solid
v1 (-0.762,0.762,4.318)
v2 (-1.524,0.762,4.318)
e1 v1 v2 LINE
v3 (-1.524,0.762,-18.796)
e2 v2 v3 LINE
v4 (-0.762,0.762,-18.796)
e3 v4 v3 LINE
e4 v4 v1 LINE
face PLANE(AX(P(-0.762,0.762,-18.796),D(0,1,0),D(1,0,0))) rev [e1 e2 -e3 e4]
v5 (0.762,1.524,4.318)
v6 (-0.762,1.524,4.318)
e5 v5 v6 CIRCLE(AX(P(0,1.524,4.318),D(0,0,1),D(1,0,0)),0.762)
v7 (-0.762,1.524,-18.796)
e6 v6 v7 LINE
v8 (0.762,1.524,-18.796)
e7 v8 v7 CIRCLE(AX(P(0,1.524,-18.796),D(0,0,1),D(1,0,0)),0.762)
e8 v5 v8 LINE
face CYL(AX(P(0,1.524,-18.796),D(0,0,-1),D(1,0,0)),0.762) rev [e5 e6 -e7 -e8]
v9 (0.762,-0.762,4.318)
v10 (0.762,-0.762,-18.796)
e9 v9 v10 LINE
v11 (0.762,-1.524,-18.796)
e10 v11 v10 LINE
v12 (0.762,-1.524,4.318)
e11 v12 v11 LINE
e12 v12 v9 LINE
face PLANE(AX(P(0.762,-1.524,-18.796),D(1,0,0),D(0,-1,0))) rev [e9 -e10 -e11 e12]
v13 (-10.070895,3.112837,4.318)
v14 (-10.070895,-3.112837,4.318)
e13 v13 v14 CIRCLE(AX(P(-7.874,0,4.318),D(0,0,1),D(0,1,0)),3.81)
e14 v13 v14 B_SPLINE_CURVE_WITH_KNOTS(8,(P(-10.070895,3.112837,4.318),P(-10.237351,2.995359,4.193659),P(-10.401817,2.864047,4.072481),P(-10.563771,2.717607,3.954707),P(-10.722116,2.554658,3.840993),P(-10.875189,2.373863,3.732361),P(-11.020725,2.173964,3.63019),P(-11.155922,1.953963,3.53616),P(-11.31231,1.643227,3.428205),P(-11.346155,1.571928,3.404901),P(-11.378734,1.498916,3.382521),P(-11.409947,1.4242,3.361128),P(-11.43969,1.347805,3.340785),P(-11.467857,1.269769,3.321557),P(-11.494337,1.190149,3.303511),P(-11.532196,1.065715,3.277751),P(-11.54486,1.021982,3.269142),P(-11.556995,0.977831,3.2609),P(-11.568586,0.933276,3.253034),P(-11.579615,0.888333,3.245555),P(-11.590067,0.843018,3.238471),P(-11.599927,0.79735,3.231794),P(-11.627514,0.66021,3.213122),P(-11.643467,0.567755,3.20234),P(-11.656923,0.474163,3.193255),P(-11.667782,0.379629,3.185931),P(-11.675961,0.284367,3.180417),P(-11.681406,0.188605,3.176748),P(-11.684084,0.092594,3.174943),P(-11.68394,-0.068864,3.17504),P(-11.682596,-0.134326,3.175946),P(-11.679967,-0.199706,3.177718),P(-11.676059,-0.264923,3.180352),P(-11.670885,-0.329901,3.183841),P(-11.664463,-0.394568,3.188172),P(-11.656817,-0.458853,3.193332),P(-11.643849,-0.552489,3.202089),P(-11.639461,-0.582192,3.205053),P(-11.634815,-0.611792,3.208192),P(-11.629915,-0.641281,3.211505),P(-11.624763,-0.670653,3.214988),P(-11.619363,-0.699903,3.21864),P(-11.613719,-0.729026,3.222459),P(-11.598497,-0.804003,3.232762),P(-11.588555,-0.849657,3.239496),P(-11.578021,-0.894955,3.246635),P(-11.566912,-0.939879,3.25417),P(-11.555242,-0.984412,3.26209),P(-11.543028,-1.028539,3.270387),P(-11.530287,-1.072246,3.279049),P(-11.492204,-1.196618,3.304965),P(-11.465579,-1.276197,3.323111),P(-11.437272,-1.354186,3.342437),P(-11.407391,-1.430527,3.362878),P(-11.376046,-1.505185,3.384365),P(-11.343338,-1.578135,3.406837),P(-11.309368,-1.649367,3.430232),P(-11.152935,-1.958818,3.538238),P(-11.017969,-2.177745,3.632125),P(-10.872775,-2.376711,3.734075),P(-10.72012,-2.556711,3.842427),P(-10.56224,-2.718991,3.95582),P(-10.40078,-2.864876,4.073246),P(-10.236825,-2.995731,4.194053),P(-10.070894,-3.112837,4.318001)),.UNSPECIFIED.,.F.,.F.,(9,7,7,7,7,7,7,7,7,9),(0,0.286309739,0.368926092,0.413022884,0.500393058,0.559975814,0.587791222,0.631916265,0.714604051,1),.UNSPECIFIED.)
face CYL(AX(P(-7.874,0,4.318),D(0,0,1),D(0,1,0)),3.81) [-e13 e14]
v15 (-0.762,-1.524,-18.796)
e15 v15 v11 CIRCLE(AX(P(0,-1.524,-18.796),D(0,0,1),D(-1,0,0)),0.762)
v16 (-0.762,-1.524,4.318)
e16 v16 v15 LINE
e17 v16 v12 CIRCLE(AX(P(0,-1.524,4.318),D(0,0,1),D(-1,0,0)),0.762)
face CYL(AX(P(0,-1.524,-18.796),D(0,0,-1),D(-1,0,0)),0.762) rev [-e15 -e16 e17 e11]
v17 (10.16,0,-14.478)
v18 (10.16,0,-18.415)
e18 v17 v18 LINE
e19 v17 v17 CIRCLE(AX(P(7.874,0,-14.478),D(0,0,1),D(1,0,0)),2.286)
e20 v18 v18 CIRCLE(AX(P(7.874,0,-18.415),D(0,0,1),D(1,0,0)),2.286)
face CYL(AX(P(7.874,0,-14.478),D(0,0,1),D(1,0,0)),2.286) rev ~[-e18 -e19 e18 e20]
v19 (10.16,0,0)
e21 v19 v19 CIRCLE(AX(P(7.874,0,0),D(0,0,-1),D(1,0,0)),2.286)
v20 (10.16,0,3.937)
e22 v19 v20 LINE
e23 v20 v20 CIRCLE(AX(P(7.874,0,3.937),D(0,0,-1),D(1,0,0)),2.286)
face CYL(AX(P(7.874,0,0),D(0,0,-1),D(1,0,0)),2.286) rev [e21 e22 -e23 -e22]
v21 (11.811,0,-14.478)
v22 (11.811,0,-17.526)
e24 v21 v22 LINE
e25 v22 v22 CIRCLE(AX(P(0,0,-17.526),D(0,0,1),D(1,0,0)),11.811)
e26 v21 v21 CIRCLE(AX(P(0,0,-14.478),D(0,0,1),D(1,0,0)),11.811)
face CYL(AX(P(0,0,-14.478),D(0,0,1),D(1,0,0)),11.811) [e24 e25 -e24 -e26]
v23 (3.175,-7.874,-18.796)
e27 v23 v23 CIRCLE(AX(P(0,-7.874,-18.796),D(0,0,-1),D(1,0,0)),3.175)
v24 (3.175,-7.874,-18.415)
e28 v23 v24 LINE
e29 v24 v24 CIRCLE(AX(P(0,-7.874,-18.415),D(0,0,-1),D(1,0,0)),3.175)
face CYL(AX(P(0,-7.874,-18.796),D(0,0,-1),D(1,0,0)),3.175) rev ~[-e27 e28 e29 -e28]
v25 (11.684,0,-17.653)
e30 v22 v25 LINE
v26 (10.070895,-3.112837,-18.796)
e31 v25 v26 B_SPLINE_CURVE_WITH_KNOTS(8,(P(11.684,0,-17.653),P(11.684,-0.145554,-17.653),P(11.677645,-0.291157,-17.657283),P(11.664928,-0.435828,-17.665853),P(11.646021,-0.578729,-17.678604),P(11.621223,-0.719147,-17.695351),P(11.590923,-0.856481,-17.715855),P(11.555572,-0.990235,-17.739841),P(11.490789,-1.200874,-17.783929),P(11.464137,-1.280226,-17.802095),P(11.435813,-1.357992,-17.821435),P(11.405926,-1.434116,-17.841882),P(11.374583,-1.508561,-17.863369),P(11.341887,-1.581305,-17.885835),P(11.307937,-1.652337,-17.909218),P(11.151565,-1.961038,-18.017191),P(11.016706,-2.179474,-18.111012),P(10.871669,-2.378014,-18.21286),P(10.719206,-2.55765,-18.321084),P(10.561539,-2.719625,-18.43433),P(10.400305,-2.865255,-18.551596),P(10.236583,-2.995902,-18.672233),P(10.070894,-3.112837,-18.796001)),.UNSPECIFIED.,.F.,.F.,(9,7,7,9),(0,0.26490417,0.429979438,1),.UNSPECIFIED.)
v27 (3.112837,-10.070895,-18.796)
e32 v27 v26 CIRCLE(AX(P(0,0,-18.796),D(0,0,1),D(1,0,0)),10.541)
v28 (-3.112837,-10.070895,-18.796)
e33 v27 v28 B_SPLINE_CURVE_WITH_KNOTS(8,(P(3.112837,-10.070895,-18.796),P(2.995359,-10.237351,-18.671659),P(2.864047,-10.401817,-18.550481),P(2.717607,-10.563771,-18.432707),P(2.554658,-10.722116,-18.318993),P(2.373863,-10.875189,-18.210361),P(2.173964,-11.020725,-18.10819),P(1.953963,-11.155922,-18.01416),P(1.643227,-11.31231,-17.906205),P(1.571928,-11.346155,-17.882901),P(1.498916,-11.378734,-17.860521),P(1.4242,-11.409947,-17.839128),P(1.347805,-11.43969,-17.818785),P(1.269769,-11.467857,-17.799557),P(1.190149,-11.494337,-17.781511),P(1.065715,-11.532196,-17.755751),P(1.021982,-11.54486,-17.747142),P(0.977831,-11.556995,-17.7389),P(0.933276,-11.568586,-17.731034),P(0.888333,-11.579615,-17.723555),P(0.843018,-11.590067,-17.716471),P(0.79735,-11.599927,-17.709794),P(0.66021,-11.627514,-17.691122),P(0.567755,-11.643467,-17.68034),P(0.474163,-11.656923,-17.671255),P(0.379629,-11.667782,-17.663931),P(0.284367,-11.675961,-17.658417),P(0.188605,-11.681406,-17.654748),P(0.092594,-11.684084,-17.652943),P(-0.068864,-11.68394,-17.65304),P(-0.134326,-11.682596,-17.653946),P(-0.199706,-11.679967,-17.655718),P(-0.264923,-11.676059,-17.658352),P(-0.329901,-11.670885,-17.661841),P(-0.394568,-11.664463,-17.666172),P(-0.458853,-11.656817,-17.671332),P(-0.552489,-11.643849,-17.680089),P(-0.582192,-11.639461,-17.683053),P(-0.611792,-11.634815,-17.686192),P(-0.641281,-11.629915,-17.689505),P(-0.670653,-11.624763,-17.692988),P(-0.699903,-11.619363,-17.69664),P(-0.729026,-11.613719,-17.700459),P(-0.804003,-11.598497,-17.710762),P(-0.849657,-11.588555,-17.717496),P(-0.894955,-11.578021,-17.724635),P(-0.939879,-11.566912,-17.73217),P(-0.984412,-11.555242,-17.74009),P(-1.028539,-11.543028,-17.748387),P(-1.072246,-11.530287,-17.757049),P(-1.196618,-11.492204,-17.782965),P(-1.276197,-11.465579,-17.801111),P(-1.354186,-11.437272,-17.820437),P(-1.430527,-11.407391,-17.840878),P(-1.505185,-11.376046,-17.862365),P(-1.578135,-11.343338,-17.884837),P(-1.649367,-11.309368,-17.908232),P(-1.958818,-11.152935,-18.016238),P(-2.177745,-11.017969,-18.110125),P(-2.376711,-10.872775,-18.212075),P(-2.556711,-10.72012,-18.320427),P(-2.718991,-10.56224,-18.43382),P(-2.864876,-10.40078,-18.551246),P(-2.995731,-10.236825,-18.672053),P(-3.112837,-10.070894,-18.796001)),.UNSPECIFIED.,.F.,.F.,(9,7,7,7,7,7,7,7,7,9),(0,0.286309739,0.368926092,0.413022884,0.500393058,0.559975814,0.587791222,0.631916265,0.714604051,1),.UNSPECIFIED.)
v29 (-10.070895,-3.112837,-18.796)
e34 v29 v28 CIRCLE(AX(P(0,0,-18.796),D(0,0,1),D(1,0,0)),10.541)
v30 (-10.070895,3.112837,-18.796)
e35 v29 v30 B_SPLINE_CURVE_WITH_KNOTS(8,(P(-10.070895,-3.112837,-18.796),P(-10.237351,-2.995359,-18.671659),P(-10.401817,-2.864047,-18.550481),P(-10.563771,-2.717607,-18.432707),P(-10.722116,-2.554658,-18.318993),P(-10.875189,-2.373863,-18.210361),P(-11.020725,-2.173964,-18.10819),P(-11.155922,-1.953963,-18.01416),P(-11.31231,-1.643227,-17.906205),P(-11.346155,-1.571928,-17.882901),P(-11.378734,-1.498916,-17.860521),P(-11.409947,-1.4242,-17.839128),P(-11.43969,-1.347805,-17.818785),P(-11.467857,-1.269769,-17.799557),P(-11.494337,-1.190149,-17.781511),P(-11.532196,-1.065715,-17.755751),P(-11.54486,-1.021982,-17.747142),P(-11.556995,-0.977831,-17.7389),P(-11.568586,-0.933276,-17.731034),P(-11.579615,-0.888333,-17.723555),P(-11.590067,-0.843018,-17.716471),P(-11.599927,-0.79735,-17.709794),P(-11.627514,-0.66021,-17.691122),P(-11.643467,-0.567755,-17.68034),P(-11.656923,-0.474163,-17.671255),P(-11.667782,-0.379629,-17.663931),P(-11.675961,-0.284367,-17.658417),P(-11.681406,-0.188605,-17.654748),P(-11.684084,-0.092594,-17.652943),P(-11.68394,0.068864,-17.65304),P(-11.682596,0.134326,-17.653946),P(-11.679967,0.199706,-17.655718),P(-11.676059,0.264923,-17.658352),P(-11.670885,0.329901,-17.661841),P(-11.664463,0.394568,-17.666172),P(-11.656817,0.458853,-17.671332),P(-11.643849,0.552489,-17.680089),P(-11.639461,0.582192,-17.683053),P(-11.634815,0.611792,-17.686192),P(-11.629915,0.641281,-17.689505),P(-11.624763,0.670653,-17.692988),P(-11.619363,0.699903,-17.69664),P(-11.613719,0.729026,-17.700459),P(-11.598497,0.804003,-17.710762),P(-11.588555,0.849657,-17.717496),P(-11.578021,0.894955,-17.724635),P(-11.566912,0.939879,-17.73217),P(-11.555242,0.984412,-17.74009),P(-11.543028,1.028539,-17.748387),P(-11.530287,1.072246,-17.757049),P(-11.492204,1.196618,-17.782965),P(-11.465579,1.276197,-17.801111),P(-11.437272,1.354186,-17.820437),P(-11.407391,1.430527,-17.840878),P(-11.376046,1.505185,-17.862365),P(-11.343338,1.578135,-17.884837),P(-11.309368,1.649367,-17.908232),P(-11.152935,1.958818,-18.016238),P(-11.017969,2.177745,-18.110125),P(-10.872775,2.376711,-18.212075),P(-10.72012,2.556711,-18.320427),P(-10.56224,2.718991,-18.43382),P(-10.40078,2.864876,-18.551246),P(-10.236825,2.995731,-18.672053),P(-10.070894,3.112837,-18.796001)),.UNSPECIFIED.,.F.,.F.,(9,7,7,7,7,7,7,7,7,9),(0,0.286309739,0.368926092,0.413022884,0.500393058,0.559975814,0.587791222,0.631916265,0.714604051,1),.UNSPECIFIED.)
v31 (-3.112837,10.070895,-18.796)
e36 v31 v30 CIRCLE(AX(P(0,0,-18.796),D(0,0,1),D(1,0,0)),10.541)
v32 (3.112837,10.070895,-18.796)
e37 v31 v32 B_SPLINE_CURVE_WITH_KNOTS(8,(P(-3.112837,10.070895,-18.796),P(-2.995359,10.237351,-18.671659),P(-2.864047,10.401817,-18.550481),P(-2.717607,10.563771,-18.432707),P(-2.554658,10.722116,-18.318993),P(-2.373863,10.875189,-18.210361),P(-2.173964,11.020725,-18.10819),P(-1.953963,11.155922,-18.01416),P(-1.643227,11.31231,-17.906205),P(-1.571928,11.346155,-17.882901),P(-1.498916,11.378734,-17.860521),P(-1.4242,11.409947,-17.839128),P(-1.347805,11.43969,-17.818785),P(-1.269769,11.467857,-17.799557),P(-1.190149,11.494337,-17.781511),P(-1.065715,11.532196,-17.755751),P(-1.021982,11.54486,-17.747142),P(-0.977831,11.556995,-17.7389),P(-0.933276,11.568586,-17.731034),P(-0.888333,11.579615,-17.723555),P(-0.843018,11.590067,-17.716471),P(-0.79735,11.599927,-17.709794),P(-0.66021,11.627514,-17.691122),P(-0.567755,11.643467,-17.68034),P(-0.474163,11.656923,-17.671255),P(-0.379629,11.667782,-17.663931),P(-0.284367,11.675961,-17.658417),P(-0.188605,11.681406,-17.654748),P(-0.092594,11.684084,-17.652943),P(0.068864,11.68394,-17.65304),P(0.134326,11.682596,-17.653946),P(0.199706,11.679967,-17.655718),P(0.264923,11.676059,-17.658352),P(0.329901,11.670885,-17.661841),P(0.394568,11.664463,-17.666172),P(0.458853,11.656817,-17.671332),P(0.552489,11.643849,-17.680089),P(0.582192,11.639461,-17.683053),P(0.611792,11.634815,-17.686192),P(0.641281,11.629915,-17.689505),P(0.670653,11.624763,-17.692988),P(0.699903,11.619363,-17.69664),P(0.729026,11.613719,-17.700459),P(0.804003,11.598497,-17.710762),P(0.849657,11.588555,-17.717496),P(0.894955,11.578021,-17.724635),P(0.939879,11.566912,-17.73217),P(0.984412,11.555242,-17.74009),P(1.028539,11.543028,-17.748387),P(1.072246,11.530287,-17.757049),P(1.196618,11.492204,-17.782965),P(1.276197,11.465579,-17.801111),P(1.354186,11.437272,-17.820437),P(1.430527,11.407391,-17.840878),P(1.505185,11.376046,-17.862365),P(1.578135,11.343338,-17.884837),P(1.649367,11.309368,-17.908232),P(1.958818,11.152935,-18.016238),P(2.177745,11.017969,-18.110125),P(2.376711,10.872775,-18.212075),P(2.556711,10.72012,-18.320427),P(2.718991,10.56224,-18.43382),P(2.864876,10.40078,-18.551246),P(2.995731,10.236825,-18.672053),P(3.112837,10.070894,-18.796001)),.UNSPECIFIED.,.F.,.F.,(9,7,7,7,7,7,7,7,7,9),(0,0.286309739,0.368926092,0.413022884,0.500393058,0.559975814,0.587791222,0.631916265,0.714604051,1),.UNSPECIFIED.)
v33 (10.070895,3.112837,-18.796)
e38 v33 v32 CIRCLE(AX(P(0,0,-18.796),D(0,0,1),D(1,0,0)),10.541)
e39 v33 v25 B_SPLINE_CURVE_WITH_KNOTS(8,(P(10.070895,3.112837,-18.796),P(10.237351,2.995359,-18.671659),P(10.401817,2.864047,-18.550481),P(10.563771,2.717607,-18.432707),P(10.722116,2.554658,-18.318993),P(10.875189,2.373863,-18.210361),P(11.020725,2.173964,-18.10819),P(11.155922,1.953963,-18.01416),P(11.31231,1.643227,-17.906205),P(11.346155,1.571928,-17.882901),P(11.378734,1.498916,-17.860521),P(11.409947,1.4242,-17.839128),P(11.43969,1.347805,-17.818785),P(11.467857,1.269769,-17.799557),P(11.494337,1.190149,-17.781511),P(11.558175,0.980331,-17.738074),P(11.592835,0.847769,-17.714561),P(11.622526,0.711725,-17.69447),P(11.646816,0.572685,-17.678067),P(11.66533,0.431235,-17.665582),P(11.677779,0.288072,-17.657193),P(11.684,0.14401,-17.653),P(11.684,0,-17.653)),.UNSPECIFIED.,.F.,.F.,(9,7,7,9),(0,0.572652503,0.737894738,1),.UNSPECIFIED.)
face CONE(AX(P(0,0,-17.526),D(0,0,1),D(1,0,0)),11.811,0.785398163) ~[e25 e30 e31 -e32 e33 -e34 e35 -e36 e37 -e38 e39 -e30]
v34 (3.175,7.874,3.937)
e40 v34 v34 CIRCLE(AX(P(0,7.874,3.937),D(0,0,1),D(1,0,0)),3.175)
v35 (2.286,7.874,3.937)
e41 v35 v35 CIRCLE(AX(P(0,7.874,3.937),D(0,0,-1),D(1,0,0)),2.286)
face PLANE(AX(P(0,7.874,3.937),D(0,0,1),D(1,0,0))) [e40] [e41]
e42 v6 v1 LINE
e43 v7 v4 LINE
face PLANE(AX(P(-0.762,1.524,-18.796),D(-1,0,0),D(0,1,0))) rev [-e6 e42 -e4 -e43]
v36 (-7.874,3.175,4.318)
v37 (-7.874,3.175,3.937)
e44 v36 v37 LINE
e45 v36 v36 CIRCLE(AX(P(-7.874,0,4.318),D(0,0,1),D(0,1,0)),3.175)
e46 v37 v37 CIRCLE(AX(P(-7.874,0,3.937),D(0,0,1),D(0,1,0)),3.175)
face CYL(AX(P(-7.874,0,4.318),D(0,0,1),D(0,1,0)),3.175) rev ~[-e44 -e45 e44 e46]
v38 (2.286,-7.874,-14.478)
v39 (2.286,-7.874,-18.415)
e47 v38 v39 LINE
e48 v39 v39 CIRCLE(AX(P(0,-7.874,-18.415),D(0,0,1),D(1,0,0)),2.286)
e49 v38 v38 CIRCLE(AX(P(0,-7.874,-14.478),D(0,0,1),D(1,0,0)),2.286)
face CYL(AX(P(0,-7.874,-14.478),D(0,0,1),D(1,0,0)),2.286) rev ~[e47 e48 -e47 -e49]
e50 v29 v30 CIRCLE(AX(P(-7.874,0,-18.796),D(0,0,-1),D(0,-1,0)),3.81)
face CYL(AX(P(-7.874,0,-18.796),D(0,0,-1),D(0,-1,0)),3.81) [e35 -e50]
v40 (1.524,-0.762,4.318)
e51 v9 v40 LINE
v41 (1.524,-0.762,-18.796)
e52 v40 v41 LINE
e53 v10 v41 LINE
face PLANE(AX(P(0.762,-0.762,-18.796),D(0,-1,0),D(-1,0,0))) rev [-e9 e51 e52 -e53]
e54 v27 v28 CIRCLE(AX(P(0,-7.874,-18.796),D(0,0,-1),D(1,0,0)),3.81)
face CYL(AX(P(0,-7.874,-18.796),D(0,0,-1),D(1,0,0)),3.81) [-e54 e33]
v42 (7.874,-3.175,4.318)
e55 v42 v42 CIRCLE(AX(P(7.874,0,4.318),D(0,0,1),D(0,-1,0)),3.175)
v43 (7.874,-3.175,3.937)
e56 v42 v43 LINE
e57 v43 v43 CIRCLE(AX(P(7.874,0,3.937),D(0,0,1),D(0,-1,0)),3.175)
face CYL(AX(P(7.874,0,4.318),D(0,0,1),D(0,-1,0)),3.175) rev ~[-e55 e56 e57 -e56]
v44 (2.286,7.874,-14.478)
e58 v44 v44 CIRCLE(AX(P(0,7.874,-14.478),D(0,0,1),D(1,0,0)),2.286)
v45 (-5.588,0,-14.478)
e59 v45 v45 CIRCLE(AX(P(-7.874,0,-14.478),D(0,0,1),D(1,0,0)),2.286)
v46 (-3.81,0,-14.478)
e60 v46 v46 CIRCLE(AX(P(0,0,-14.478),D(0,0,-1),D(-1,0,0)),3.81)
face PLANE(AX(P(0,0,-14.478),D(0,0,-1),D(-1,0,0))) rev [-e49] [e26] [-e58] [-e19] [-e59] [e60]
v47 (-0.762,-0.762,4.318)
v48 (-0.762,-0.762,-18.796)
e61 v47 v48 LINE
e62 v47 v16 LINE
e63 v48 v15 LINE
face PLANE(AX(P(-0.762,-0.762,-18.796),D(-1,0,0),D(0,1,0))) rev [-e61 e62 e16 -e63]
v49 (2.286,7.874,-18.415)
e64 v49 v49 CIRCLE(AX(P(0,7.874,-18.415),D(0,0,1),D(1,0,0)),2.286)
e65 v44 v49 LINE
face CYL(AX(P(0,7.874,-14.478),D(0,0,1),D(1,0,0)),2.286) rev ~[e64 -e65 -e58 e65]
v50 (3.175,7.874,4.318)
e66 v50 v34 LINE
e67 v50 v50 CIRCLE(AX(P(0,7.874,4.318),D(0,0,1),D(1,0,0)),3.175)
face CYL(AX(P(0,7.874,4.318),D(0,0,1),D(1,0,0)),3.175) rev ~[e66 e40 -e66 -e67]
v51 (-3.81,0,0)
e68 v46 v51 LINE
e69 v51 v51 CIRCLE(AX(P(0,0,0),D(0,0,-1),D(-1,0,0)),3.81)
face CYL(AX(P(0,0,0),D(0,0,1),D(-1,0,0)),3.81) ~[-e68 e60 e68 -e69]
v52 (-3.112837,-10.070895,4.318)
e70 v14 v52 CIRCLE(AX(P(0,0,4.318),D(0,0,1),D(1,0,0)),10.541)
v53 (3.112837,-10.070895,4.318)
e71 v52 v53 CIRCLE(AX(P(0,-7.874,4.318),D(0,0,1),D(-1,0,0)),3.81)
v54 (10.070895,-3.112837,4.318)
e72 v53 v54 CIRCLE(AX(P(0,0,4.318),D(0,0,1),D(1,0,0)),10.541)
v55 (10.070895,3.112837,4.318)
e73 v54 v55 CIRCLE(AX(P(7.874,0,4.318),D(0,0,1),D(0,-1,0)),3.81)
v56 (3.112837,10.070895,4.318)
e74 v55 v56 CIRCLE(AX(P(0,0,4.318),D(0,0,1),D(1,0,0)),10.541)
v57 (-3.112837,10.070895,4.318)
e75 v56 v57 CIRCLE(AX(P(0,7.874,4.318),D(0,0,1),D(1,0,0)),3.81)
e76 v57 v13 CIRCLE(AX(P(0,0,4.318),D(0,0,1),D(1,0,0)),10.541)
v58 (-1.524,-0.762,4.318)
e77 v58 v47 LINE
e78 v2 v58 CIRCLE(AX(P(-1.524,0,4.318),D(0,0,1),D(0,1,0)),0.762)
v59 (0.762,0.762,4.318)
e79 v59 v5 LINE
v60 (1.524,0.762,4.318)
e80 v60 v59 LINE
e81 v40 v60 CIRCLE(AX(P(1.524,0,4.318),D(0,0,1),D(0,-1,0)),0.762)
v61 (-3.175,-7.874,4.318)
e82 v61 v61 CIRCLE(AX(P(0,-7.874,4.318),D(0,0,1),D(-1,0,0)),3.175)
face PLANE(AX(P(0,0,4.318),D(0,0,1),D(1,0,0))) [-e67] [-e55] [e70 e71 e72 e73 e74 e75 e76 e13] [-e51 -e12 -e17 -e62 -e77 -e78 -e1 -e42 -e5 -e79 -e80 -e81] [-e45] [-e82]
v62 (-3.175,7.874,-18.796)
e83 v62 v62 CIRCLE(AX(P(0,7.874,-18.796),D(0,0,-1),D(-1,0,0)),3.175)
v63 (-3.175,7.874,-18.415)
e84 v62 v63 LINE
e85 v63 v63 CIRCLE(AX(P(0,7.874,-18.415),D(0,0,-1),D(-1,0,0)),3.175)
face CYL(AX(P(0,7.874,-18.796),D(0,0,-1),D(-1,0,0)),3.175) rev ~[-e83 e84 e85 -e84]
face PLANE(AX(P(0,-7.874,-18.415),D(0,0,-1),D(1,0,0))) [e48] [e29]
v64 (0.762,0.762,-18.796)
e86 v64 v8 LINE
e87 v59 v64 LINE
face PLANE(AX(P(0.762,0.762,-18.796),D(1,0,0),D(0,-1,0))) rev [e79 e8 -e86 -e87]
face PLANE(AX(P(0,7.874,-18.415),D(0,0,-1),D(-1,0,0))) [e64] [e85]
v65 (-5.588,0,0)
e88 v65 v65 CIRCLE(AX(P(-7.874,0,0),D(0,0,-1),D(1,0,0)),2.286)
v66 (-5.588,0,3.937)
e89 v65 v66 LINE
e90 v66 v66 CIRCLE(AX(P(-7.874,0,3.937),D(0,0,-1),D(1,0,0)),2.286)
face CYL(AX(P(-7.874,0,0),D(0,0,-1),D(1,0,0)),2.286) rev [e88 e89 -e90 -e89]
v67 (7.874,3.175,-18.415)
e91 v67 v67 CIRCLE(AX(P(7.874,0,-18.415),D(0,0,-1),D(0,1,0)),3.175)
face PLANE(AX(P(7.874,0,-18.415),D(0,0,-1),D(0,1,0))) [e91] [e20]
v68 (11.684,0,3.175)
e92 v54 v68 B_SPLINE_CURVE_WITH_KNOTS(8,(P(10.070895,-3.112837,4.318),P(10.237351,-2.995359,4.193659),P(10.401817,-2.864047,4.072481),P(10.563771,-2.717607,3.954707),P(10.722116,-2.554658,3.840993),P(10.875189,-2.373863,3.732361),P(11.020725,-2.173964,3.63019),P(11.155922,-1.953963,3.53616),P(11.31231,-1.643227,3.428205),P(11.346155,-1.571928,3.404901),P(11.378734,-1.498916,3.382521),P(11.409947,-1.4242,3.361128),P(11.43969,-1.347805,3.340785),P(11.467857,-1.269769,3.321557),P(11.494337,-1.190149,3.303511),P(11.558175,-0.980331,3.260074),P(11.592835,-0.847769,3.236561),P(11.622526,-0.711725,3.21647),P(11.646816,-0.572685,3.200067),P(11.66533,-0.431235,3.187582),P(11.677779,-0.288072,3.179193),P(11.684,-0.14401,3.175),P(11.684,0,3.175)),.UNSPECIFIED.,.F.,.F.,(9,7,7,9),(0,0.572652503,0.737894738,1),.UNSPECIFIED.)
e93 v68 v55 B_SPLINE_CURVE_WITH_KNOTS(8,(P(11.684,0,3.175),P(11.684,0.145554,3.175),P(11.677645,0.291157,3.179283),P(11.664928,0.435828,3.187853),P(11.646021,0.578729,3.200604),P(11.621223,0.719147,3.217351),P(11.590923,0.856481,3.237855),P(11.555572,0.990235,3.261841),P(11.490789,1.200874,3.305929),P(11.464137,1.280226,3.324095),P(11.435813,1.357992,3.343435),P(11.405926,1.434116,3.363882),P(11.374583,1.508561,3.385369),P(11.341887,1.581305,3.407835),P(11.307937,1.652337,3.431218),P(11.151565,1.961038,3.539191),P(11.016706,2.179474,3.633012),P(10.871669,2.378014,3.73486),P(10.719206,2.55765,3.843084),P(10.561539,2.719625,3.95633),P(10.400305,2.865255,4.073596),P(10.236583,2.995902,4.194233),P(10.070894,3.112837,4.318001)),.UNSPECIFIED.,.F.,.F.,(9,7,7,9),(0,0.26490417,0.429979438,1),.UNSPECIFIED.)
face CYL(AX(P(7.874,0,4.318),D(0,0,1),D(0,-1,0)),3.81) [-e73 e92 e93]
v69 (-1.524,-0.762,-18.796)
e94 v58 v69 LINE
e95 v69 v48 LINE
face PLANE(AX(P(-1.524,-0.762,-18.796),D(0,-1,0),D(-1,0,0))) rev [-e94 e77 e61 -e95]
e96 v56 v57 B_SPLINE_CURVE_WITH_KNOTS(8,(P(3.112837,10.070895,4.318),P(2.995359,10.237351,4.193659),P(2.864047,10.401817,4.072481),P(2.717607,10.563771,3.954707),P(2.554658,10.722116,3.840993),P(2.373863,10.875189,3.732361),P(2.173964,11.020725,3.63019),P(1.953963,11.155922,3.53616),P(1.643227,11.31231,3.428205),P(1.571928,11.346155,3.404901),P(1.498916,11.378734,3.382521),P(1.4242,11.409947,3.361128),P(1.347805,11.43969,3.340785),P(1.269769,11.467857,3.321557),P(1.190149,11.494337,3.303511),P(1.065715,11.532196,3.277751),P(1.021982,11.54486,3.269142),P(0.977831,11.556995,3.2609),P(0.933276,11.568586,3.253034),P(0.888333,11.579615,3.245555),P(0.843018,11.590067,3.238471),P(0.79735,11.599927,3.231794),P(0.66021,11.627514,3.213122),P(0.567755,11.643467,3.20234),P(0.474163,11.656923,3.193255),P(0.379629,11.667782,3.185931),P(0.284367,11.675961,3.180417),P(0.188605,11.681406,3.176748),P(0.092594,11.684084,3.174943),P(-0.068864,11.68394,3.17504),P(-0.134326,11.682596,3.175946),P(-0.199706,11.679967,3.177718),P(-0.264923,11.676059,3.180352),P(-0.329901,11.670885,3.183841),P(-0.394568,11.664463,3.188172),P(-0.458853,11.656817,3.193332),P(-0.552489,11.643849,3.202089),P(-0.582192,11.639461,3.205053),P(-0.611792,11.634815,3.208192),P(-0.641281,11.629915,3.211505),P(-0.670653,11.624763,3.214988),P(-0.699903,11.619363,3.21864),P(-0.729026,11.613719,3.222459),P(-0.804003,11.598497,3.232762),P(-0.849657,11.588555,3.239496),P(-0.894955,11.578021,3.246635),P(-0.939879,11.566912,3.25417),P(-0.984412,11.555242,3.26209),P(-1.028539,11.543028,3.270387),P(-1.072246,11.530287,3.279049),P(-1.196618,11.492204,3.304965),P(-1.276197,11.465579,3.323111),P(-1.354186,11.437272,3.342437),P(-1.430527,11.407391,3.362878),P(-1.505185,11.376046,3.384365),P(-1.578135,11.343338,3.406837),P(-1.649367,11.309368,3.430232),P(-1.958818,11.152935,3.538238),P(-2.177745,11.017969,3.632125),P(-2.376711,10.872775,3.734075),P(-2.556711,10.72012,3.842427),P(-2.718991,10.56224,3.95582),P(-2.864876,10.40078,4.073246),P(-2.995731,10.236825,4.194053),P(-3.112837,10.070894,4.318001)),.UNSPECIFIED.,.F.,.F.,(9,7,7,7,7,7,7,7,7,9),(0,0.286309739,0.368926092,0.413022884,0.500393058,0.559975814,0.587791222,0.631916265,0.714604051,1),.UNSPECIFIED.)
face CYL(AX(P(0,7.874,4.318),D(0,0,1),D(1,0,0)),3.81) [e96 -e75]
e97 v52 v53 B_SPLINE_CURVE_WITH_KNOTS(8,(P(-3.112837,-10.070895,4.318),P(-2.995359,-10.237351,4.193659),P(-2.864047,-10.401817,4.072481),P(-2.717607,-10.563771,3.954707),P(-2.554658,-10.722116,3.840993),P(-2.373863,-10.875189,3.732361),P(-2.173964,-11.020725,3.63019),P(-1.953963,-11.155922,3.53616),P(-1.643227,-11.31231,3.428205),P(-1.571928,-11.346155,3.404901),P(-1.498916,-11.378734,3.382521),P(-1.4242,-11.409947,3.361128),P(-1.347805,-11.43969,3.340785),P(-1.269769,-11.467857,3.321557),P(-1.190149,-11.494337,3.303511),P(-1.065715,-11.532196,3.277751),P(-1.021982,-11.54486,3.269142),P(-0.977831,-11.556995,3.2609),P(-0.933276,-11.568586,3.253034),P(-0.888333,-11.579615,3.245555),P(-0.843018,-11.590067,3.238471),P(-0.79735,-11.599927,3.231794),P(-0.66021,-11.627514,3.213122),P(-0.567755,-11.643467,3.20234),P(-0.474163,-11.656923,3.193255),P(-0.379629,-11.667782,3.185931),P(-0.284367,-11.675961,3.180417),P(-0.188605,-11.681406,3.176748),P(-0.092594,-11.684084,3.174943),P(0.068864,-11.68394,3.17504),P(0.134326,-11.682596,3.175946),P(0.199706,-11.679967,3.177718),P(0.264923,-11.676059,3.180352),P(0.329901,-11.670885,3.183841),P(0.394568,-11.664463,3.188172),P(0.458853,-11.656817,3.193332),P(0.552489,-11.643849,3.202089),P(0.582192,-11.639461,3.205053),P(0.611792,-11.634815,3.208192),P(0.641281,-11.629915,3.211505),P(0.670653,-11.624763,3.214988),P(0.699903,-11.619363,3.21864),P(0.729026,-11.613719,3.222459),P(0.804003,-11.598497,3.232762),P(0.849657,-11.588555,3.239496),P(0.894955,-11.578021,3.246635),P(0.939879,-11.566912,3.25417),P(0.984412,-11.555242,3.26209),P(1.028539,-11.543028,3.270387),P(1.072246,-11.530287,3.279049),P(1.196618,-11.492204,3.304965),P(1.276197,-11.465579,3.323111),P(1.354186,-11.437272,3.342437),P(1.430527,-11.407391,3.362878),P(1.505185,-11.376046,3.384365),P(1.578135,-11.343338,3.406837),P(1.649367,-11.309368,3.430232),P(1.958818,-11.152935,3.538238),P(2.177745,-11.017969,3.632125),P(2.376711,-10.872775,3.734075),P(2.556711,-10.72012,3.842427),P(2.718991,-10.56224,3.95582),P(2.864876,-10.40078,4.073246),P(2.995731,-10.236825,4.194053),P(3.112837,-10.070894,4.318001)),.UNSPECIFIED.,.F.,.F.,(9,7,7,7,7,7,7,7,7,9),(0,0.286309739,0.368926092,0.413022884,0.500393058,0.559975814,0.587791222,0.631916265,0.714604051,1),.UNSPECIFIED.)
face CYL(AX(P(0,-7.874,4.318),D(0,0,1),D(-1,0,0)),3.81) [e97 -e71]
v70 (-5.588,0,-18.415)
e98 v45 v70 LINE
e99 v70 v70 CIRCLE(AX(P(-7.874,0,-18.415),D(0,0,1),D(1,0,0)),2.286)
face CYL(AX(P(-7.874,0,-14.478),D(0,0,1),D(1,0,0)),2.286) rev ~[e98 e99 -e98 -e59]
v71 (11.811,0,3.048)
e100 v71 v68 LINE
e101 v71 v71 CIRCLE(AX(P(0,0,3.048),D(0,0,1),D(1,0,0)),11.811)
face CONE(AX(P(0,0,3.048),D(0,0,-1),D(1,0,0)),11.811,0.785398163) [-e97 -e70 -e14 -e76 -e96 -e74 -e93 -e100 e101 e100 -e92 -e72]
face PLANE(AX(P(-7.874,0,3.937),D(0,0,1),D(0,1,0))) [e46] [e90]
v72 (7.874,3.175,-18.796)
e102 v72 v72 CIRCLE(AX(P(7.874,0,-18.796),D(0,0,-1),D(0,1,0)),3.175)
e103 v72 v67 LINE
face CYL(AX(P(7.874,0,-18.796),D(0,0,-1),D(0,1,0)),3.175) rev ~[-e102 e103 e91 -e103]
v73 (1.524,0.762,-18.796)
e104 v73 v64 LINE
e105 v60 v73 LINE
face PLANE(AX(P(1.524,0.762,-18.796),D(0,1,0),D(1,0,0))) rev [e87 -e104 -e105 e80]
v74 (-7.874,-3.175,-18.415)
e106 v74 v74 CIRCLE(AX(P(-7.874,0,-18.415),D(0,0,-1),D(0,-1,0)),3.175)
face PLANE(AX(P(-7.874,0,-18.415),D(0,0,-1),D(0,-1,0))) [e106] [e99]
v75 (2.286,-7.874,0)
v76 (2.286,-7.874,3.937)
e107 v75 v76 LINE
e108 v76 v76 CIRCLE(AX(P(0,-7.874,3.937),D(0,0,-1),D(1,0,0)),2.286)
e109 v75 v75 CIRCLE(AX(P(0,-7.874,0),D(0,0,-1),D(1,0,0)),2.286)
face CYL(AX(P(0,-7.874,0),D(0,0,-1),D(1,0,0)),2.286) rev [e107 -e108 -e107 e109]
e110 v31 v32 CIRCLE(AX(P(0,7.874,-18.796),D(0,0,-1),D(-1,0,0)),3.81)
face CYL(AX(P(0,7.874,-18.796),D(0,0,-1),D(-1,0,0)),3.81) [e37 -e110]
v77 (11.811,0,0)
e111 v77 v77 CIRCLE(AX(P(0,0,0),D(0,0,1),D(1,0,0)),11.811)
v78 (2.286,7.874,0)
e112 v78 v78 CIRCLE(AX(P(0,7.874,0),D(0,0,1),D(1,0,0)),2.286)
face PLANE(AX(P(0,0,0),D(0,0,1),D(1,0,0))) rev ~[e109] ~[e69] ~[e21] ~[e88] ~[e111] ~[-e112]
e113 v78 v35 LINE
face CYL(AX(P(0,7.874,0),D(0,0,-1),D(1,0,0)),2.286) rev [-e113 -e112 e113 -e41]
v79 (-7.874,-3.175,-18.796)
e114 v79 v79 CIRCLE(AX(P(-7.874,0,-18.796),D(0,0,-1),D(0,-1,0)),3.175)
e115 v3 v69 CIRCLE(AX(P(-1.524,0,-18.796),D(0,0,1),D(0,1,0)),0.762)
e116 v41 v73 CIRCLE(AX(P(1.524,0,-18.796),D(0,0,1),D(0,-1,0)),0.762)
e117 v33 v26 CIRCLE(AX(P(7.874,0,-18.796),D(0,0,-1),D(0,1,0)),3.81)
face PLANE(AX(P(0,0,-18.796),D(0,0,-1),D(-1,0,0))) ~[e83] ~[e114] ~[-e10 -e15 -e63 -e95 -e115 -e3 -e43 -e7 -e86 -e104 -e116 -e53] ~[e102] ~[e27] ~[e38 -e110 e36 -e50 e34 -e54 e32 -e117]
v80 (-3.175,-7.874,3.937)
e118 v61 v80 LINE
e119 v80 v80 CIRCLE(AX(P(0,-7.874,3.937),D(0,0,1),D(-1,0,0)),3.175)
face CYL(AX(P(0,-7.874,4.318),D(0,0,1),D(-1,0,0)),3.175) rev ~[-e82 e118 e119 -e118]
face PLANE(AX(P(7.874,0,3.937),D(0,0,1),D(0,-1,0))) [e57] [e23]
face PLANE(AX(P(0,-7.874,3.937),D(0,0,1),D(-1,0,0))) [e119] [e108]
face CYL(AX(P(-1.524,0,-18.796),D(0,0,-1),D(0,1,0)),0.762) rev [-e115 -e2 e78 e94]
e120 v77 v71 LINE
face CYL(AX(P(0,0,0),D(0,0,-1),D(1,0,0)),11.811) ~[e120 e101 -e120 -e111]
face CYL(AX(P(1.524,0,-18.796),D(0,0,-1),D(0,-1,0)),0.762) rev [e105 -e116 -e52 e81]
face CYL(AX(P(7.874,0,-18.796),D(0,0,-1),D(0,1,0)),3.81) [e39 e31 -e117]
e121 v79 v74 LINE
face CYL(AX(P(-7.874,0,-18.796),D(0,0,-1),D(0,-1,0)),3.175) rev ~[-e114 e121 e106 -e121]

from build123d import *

# Parameters (mm, degrees)
SKETCH1_R           = 11.811
SKETCH1_R_2         = 2.286
EXTRUDE1_DEPTH      = 4.318
CHAMFER1_SIZE       = 1.27
SKETCH2_R           = 2.794
SKETCH2_R_2         = 2.306678084
SKETCH2_R_3         = 2.286
SKETCH2_R_4         = 2.290860138
EXTRUDE2_DEPTH      = 4.318
SKETCH3_R           = 3.81
EXTRUDE3_DEPTH      = 7.239
SKETCH4_W           = 1.524
SKETCH4_H           = 1.524
CUT_EXTRUDE1_DEPTH  = 12.557
SKETCH5_R           = 3.81
SKETCH5_R_2         = 2.286
BOSS_EXTRUDE3_DEPTH = 4.318
SKETCH6_R           = 3.81
SKETCH6_R_2         = 2.286
BOSS_EXTRUDE5_DEPTH = 4.318
SKETCH5_3_R         = 3.175
CUT_EXTRUDE2_DEPTH  = 0.381
SKETCH6_3_R         = 3.175
CUT_EXTRUDE3_DEPTH  = 0.381
CIRPATTERN1_COUNT   = 4


with BuildPart() as part:
    # Sketch1 → Extrude1 (new body)
    with BuildSketch(Plane.XY):
        Circle(SKETCH1_R)
        with Locations((0, 7.874)):
            Circle(SKETCH1_R_2, mode=Mode.SUBTRACT)
        with Locations((7.874, 0)):
            Circle(SKETCH1_R_2, mode=Mode.SUBTRACT)
        with Locations((0, -7.874)):
            Circle(SKETCH1_R_2, mode=Mode.SUBTRACT)
        with Locations((-7.874, 0)):
            Circle(SKETCH1_R_2, mode=Mode.SUBTRACT)
    extrude(amount=EXTRUDE1_DEPTH)

    # Chamfer1
    chamfer1_edges = [part.edges().sort_by_distance(p)[0] for p in [
        (-11.811, 0, 4.318),
    ]]
    chamfer(chamfer1_edges, length=CHAMFER1_SIZE)

    # Sketch2 → Extrude2 (add)
    with BuildSketch(Plane.XY.offset(4.318)):
        with Locations((0, 7.874)):
            Circle(SKETCH2_R)
        with Locations((0, 7.874)):
            Circle(SKETCH2_R_2, mode=Mode.SUBTRACT)
        with Locations((-7.874, 0)):
            Circle(SKETCH2_R)
        with Locations((-7.874, 0)):
            Circle(SKETCH2_R_3, mode=Mode.SUBTRACT)
        with Locations((0, -7.874)):
            Circle(SKETCH2_R)
        with Locations((0, -7.874)):
            Circle(SKETCH2_R_4, mode=Mode.SUBTRACT)
        with Locations((7.874, 0)):
            Circle(SKETCH2_R)
        with Locations((7.874, 0)):
            Circle(SKETCH2_R_3, mode=Mode.SUBTRACT)
    extrude(amount=-EXTRUDE2_DEPTH)

    # Sketch3 → Extrude3 (add)
    with BuildSketch(Plane(origin=(0, 0, 0), x_dir=(-1, 0, 0), z_dir=(0, 0, -1))):
        Circle(SKETCH3_R)
    extrude(amount=EXTRUDE3_DEPTH)

    # Sketch4 → Cut-Extrude1 (cut, through all)
    with BuildSketch(Plane.XY.offset(4.318)):
        with BuildLine():
            Line((-0.762, 0.762), (-1.524, 0.762))
            ThreePointArc((-1.524, 0.762), (-2.286, 0), (-1.524, -0.762))
            Line((-1.524, -0.762), (-0.762, -0.762))
            Line((-0.762, -0.762), (-0.762, 0.762))
        make_face()
        with BuildLine():
            Line((-0.762, 1.524), (-0.762, 0.762))
            Line((-0.762, 0.762), (0.762, 0.762))
            Line((0.762, 0.762), (0.762, 1.524))
            ThreePointArc((0.762, 1.524), (0, 2.286), (-0.762, 1.524))
        make_face()
        with BuildLine():
            Line((1.524, 0.762), (0.762, 0.762))
            Line((0.762, 0.762), (0.762, -0.762))
            Line((0.762, -0.762), (1.524, -0.762))
            ThreePointArc((1.524, -0.762), (2.286, 0), (1.524, 0.762))
        make_face()
        Rectangle(SKETCH4_W, SKETCH4_H)
        with BuildLine():
            Line((0.762, -0.762), (-0.762, -0.762))
            Line((-0.762, -0.762), (-0.762, -1.524))
            ThreePointArc((-0.762, -1.524), (0, -2.286), (0.762, -1.524))
            Line((0.762, -1.524), (0.762, -0.762))
        make_face()
    extrude(amount=-CUT_EXTRUDE1_DEPTH, mode=Mode.SUBTRACT)

    # Mirror1: part across plane


with BuildPart() as part_1:
    add(part.part)
    add(part.part.mirror(Plane.XY.offset(-7.239)))

    # Sketch5 → Boss-Extrude3 (add)
    with BuildSketch(Plane.XY.offset(4.318)):
        with Locations((0, 7.874)):
            Circle(SKETCH5_R)
        with Locations((0, 7.874)):
            Circle(SKETCH5_R_2, mode=Mode.SUBTRACT)
    boss_extrude3 = extrude(amount=-BOSS_EXTRUDE3_DEPTH)

    # Sketch6 → Boss-Extrude5 (add)
    with BuildSketch(Plane(origin=(0, 0, -18.796), x_dir=(-1, 0, 0), z_dir=(0, 0, -1))):
        with Locations((0, 7.874)):
            Circle(SKETCH6_R)
        with Locations((0, 7.874)):
            Circle(SKETCH6_R_2, mode=Mode.SUBTRACT)
    boss_extrude5 = extrude(amount=-BOSS_EXTRUDE5_DEPTH)

    # Sketch5_3 → Cut-Extrude2 (cut)
    with BuildSketch(Plane.XY.offset(4.318)):
        with Locations((0, 7.874)):
            Circle(SKETCH5_3_R)
    cut_extrude2 = extrude(amount=-CUT_EXTRUDE2_DEPTH, mode=Mode.SUBTRACT)

    # Sketch6_3 → Cut-Extrude3 (cut)
    with BuildSketch(Plane(origin=(0, 0, -18.796), x_dir=(-1, 0, 0), z_dir=(0, 0, -1))):
        with Locations((0, 7.874)):
            Circle(SKETCH6_3_R)
    cut_extrude3 = extrude(amount=-CUT_EXTRUDE3_DEPTH, mode=Mode.SUBTRACT)

    # CirPattern1: Boss-Extrude3, Boss-Extrude5, Cut-Extrude2, Cut-Extrude3 ×4 about axis
    cirpattern1_axis = Axis((0, 0, 0), (0, 0, 1))
    for i in range(1, CIRPATTERN1_COUNT):
        add(boss_extrude3.rotate(cirpattern1_axis, i * 360 / CIRPATTERN1_COUNT))
        add(boss_extrude5.rotate(cirpattern1_axis, i * 360 / CIRPATTERN1_COUNT))
        add(cut_extrude2.rotate(cirpattern1_axis, i * 360 / CIRPATTERN1_COUNT), mode=Mode.SUBTRACT)
        add(cut_extrude3.rotate(cirpattern1_axis, i * 360 / CIRPATTERN1_COUNT), mode=Mode.SUBTRACT)


solid = part_1.part
